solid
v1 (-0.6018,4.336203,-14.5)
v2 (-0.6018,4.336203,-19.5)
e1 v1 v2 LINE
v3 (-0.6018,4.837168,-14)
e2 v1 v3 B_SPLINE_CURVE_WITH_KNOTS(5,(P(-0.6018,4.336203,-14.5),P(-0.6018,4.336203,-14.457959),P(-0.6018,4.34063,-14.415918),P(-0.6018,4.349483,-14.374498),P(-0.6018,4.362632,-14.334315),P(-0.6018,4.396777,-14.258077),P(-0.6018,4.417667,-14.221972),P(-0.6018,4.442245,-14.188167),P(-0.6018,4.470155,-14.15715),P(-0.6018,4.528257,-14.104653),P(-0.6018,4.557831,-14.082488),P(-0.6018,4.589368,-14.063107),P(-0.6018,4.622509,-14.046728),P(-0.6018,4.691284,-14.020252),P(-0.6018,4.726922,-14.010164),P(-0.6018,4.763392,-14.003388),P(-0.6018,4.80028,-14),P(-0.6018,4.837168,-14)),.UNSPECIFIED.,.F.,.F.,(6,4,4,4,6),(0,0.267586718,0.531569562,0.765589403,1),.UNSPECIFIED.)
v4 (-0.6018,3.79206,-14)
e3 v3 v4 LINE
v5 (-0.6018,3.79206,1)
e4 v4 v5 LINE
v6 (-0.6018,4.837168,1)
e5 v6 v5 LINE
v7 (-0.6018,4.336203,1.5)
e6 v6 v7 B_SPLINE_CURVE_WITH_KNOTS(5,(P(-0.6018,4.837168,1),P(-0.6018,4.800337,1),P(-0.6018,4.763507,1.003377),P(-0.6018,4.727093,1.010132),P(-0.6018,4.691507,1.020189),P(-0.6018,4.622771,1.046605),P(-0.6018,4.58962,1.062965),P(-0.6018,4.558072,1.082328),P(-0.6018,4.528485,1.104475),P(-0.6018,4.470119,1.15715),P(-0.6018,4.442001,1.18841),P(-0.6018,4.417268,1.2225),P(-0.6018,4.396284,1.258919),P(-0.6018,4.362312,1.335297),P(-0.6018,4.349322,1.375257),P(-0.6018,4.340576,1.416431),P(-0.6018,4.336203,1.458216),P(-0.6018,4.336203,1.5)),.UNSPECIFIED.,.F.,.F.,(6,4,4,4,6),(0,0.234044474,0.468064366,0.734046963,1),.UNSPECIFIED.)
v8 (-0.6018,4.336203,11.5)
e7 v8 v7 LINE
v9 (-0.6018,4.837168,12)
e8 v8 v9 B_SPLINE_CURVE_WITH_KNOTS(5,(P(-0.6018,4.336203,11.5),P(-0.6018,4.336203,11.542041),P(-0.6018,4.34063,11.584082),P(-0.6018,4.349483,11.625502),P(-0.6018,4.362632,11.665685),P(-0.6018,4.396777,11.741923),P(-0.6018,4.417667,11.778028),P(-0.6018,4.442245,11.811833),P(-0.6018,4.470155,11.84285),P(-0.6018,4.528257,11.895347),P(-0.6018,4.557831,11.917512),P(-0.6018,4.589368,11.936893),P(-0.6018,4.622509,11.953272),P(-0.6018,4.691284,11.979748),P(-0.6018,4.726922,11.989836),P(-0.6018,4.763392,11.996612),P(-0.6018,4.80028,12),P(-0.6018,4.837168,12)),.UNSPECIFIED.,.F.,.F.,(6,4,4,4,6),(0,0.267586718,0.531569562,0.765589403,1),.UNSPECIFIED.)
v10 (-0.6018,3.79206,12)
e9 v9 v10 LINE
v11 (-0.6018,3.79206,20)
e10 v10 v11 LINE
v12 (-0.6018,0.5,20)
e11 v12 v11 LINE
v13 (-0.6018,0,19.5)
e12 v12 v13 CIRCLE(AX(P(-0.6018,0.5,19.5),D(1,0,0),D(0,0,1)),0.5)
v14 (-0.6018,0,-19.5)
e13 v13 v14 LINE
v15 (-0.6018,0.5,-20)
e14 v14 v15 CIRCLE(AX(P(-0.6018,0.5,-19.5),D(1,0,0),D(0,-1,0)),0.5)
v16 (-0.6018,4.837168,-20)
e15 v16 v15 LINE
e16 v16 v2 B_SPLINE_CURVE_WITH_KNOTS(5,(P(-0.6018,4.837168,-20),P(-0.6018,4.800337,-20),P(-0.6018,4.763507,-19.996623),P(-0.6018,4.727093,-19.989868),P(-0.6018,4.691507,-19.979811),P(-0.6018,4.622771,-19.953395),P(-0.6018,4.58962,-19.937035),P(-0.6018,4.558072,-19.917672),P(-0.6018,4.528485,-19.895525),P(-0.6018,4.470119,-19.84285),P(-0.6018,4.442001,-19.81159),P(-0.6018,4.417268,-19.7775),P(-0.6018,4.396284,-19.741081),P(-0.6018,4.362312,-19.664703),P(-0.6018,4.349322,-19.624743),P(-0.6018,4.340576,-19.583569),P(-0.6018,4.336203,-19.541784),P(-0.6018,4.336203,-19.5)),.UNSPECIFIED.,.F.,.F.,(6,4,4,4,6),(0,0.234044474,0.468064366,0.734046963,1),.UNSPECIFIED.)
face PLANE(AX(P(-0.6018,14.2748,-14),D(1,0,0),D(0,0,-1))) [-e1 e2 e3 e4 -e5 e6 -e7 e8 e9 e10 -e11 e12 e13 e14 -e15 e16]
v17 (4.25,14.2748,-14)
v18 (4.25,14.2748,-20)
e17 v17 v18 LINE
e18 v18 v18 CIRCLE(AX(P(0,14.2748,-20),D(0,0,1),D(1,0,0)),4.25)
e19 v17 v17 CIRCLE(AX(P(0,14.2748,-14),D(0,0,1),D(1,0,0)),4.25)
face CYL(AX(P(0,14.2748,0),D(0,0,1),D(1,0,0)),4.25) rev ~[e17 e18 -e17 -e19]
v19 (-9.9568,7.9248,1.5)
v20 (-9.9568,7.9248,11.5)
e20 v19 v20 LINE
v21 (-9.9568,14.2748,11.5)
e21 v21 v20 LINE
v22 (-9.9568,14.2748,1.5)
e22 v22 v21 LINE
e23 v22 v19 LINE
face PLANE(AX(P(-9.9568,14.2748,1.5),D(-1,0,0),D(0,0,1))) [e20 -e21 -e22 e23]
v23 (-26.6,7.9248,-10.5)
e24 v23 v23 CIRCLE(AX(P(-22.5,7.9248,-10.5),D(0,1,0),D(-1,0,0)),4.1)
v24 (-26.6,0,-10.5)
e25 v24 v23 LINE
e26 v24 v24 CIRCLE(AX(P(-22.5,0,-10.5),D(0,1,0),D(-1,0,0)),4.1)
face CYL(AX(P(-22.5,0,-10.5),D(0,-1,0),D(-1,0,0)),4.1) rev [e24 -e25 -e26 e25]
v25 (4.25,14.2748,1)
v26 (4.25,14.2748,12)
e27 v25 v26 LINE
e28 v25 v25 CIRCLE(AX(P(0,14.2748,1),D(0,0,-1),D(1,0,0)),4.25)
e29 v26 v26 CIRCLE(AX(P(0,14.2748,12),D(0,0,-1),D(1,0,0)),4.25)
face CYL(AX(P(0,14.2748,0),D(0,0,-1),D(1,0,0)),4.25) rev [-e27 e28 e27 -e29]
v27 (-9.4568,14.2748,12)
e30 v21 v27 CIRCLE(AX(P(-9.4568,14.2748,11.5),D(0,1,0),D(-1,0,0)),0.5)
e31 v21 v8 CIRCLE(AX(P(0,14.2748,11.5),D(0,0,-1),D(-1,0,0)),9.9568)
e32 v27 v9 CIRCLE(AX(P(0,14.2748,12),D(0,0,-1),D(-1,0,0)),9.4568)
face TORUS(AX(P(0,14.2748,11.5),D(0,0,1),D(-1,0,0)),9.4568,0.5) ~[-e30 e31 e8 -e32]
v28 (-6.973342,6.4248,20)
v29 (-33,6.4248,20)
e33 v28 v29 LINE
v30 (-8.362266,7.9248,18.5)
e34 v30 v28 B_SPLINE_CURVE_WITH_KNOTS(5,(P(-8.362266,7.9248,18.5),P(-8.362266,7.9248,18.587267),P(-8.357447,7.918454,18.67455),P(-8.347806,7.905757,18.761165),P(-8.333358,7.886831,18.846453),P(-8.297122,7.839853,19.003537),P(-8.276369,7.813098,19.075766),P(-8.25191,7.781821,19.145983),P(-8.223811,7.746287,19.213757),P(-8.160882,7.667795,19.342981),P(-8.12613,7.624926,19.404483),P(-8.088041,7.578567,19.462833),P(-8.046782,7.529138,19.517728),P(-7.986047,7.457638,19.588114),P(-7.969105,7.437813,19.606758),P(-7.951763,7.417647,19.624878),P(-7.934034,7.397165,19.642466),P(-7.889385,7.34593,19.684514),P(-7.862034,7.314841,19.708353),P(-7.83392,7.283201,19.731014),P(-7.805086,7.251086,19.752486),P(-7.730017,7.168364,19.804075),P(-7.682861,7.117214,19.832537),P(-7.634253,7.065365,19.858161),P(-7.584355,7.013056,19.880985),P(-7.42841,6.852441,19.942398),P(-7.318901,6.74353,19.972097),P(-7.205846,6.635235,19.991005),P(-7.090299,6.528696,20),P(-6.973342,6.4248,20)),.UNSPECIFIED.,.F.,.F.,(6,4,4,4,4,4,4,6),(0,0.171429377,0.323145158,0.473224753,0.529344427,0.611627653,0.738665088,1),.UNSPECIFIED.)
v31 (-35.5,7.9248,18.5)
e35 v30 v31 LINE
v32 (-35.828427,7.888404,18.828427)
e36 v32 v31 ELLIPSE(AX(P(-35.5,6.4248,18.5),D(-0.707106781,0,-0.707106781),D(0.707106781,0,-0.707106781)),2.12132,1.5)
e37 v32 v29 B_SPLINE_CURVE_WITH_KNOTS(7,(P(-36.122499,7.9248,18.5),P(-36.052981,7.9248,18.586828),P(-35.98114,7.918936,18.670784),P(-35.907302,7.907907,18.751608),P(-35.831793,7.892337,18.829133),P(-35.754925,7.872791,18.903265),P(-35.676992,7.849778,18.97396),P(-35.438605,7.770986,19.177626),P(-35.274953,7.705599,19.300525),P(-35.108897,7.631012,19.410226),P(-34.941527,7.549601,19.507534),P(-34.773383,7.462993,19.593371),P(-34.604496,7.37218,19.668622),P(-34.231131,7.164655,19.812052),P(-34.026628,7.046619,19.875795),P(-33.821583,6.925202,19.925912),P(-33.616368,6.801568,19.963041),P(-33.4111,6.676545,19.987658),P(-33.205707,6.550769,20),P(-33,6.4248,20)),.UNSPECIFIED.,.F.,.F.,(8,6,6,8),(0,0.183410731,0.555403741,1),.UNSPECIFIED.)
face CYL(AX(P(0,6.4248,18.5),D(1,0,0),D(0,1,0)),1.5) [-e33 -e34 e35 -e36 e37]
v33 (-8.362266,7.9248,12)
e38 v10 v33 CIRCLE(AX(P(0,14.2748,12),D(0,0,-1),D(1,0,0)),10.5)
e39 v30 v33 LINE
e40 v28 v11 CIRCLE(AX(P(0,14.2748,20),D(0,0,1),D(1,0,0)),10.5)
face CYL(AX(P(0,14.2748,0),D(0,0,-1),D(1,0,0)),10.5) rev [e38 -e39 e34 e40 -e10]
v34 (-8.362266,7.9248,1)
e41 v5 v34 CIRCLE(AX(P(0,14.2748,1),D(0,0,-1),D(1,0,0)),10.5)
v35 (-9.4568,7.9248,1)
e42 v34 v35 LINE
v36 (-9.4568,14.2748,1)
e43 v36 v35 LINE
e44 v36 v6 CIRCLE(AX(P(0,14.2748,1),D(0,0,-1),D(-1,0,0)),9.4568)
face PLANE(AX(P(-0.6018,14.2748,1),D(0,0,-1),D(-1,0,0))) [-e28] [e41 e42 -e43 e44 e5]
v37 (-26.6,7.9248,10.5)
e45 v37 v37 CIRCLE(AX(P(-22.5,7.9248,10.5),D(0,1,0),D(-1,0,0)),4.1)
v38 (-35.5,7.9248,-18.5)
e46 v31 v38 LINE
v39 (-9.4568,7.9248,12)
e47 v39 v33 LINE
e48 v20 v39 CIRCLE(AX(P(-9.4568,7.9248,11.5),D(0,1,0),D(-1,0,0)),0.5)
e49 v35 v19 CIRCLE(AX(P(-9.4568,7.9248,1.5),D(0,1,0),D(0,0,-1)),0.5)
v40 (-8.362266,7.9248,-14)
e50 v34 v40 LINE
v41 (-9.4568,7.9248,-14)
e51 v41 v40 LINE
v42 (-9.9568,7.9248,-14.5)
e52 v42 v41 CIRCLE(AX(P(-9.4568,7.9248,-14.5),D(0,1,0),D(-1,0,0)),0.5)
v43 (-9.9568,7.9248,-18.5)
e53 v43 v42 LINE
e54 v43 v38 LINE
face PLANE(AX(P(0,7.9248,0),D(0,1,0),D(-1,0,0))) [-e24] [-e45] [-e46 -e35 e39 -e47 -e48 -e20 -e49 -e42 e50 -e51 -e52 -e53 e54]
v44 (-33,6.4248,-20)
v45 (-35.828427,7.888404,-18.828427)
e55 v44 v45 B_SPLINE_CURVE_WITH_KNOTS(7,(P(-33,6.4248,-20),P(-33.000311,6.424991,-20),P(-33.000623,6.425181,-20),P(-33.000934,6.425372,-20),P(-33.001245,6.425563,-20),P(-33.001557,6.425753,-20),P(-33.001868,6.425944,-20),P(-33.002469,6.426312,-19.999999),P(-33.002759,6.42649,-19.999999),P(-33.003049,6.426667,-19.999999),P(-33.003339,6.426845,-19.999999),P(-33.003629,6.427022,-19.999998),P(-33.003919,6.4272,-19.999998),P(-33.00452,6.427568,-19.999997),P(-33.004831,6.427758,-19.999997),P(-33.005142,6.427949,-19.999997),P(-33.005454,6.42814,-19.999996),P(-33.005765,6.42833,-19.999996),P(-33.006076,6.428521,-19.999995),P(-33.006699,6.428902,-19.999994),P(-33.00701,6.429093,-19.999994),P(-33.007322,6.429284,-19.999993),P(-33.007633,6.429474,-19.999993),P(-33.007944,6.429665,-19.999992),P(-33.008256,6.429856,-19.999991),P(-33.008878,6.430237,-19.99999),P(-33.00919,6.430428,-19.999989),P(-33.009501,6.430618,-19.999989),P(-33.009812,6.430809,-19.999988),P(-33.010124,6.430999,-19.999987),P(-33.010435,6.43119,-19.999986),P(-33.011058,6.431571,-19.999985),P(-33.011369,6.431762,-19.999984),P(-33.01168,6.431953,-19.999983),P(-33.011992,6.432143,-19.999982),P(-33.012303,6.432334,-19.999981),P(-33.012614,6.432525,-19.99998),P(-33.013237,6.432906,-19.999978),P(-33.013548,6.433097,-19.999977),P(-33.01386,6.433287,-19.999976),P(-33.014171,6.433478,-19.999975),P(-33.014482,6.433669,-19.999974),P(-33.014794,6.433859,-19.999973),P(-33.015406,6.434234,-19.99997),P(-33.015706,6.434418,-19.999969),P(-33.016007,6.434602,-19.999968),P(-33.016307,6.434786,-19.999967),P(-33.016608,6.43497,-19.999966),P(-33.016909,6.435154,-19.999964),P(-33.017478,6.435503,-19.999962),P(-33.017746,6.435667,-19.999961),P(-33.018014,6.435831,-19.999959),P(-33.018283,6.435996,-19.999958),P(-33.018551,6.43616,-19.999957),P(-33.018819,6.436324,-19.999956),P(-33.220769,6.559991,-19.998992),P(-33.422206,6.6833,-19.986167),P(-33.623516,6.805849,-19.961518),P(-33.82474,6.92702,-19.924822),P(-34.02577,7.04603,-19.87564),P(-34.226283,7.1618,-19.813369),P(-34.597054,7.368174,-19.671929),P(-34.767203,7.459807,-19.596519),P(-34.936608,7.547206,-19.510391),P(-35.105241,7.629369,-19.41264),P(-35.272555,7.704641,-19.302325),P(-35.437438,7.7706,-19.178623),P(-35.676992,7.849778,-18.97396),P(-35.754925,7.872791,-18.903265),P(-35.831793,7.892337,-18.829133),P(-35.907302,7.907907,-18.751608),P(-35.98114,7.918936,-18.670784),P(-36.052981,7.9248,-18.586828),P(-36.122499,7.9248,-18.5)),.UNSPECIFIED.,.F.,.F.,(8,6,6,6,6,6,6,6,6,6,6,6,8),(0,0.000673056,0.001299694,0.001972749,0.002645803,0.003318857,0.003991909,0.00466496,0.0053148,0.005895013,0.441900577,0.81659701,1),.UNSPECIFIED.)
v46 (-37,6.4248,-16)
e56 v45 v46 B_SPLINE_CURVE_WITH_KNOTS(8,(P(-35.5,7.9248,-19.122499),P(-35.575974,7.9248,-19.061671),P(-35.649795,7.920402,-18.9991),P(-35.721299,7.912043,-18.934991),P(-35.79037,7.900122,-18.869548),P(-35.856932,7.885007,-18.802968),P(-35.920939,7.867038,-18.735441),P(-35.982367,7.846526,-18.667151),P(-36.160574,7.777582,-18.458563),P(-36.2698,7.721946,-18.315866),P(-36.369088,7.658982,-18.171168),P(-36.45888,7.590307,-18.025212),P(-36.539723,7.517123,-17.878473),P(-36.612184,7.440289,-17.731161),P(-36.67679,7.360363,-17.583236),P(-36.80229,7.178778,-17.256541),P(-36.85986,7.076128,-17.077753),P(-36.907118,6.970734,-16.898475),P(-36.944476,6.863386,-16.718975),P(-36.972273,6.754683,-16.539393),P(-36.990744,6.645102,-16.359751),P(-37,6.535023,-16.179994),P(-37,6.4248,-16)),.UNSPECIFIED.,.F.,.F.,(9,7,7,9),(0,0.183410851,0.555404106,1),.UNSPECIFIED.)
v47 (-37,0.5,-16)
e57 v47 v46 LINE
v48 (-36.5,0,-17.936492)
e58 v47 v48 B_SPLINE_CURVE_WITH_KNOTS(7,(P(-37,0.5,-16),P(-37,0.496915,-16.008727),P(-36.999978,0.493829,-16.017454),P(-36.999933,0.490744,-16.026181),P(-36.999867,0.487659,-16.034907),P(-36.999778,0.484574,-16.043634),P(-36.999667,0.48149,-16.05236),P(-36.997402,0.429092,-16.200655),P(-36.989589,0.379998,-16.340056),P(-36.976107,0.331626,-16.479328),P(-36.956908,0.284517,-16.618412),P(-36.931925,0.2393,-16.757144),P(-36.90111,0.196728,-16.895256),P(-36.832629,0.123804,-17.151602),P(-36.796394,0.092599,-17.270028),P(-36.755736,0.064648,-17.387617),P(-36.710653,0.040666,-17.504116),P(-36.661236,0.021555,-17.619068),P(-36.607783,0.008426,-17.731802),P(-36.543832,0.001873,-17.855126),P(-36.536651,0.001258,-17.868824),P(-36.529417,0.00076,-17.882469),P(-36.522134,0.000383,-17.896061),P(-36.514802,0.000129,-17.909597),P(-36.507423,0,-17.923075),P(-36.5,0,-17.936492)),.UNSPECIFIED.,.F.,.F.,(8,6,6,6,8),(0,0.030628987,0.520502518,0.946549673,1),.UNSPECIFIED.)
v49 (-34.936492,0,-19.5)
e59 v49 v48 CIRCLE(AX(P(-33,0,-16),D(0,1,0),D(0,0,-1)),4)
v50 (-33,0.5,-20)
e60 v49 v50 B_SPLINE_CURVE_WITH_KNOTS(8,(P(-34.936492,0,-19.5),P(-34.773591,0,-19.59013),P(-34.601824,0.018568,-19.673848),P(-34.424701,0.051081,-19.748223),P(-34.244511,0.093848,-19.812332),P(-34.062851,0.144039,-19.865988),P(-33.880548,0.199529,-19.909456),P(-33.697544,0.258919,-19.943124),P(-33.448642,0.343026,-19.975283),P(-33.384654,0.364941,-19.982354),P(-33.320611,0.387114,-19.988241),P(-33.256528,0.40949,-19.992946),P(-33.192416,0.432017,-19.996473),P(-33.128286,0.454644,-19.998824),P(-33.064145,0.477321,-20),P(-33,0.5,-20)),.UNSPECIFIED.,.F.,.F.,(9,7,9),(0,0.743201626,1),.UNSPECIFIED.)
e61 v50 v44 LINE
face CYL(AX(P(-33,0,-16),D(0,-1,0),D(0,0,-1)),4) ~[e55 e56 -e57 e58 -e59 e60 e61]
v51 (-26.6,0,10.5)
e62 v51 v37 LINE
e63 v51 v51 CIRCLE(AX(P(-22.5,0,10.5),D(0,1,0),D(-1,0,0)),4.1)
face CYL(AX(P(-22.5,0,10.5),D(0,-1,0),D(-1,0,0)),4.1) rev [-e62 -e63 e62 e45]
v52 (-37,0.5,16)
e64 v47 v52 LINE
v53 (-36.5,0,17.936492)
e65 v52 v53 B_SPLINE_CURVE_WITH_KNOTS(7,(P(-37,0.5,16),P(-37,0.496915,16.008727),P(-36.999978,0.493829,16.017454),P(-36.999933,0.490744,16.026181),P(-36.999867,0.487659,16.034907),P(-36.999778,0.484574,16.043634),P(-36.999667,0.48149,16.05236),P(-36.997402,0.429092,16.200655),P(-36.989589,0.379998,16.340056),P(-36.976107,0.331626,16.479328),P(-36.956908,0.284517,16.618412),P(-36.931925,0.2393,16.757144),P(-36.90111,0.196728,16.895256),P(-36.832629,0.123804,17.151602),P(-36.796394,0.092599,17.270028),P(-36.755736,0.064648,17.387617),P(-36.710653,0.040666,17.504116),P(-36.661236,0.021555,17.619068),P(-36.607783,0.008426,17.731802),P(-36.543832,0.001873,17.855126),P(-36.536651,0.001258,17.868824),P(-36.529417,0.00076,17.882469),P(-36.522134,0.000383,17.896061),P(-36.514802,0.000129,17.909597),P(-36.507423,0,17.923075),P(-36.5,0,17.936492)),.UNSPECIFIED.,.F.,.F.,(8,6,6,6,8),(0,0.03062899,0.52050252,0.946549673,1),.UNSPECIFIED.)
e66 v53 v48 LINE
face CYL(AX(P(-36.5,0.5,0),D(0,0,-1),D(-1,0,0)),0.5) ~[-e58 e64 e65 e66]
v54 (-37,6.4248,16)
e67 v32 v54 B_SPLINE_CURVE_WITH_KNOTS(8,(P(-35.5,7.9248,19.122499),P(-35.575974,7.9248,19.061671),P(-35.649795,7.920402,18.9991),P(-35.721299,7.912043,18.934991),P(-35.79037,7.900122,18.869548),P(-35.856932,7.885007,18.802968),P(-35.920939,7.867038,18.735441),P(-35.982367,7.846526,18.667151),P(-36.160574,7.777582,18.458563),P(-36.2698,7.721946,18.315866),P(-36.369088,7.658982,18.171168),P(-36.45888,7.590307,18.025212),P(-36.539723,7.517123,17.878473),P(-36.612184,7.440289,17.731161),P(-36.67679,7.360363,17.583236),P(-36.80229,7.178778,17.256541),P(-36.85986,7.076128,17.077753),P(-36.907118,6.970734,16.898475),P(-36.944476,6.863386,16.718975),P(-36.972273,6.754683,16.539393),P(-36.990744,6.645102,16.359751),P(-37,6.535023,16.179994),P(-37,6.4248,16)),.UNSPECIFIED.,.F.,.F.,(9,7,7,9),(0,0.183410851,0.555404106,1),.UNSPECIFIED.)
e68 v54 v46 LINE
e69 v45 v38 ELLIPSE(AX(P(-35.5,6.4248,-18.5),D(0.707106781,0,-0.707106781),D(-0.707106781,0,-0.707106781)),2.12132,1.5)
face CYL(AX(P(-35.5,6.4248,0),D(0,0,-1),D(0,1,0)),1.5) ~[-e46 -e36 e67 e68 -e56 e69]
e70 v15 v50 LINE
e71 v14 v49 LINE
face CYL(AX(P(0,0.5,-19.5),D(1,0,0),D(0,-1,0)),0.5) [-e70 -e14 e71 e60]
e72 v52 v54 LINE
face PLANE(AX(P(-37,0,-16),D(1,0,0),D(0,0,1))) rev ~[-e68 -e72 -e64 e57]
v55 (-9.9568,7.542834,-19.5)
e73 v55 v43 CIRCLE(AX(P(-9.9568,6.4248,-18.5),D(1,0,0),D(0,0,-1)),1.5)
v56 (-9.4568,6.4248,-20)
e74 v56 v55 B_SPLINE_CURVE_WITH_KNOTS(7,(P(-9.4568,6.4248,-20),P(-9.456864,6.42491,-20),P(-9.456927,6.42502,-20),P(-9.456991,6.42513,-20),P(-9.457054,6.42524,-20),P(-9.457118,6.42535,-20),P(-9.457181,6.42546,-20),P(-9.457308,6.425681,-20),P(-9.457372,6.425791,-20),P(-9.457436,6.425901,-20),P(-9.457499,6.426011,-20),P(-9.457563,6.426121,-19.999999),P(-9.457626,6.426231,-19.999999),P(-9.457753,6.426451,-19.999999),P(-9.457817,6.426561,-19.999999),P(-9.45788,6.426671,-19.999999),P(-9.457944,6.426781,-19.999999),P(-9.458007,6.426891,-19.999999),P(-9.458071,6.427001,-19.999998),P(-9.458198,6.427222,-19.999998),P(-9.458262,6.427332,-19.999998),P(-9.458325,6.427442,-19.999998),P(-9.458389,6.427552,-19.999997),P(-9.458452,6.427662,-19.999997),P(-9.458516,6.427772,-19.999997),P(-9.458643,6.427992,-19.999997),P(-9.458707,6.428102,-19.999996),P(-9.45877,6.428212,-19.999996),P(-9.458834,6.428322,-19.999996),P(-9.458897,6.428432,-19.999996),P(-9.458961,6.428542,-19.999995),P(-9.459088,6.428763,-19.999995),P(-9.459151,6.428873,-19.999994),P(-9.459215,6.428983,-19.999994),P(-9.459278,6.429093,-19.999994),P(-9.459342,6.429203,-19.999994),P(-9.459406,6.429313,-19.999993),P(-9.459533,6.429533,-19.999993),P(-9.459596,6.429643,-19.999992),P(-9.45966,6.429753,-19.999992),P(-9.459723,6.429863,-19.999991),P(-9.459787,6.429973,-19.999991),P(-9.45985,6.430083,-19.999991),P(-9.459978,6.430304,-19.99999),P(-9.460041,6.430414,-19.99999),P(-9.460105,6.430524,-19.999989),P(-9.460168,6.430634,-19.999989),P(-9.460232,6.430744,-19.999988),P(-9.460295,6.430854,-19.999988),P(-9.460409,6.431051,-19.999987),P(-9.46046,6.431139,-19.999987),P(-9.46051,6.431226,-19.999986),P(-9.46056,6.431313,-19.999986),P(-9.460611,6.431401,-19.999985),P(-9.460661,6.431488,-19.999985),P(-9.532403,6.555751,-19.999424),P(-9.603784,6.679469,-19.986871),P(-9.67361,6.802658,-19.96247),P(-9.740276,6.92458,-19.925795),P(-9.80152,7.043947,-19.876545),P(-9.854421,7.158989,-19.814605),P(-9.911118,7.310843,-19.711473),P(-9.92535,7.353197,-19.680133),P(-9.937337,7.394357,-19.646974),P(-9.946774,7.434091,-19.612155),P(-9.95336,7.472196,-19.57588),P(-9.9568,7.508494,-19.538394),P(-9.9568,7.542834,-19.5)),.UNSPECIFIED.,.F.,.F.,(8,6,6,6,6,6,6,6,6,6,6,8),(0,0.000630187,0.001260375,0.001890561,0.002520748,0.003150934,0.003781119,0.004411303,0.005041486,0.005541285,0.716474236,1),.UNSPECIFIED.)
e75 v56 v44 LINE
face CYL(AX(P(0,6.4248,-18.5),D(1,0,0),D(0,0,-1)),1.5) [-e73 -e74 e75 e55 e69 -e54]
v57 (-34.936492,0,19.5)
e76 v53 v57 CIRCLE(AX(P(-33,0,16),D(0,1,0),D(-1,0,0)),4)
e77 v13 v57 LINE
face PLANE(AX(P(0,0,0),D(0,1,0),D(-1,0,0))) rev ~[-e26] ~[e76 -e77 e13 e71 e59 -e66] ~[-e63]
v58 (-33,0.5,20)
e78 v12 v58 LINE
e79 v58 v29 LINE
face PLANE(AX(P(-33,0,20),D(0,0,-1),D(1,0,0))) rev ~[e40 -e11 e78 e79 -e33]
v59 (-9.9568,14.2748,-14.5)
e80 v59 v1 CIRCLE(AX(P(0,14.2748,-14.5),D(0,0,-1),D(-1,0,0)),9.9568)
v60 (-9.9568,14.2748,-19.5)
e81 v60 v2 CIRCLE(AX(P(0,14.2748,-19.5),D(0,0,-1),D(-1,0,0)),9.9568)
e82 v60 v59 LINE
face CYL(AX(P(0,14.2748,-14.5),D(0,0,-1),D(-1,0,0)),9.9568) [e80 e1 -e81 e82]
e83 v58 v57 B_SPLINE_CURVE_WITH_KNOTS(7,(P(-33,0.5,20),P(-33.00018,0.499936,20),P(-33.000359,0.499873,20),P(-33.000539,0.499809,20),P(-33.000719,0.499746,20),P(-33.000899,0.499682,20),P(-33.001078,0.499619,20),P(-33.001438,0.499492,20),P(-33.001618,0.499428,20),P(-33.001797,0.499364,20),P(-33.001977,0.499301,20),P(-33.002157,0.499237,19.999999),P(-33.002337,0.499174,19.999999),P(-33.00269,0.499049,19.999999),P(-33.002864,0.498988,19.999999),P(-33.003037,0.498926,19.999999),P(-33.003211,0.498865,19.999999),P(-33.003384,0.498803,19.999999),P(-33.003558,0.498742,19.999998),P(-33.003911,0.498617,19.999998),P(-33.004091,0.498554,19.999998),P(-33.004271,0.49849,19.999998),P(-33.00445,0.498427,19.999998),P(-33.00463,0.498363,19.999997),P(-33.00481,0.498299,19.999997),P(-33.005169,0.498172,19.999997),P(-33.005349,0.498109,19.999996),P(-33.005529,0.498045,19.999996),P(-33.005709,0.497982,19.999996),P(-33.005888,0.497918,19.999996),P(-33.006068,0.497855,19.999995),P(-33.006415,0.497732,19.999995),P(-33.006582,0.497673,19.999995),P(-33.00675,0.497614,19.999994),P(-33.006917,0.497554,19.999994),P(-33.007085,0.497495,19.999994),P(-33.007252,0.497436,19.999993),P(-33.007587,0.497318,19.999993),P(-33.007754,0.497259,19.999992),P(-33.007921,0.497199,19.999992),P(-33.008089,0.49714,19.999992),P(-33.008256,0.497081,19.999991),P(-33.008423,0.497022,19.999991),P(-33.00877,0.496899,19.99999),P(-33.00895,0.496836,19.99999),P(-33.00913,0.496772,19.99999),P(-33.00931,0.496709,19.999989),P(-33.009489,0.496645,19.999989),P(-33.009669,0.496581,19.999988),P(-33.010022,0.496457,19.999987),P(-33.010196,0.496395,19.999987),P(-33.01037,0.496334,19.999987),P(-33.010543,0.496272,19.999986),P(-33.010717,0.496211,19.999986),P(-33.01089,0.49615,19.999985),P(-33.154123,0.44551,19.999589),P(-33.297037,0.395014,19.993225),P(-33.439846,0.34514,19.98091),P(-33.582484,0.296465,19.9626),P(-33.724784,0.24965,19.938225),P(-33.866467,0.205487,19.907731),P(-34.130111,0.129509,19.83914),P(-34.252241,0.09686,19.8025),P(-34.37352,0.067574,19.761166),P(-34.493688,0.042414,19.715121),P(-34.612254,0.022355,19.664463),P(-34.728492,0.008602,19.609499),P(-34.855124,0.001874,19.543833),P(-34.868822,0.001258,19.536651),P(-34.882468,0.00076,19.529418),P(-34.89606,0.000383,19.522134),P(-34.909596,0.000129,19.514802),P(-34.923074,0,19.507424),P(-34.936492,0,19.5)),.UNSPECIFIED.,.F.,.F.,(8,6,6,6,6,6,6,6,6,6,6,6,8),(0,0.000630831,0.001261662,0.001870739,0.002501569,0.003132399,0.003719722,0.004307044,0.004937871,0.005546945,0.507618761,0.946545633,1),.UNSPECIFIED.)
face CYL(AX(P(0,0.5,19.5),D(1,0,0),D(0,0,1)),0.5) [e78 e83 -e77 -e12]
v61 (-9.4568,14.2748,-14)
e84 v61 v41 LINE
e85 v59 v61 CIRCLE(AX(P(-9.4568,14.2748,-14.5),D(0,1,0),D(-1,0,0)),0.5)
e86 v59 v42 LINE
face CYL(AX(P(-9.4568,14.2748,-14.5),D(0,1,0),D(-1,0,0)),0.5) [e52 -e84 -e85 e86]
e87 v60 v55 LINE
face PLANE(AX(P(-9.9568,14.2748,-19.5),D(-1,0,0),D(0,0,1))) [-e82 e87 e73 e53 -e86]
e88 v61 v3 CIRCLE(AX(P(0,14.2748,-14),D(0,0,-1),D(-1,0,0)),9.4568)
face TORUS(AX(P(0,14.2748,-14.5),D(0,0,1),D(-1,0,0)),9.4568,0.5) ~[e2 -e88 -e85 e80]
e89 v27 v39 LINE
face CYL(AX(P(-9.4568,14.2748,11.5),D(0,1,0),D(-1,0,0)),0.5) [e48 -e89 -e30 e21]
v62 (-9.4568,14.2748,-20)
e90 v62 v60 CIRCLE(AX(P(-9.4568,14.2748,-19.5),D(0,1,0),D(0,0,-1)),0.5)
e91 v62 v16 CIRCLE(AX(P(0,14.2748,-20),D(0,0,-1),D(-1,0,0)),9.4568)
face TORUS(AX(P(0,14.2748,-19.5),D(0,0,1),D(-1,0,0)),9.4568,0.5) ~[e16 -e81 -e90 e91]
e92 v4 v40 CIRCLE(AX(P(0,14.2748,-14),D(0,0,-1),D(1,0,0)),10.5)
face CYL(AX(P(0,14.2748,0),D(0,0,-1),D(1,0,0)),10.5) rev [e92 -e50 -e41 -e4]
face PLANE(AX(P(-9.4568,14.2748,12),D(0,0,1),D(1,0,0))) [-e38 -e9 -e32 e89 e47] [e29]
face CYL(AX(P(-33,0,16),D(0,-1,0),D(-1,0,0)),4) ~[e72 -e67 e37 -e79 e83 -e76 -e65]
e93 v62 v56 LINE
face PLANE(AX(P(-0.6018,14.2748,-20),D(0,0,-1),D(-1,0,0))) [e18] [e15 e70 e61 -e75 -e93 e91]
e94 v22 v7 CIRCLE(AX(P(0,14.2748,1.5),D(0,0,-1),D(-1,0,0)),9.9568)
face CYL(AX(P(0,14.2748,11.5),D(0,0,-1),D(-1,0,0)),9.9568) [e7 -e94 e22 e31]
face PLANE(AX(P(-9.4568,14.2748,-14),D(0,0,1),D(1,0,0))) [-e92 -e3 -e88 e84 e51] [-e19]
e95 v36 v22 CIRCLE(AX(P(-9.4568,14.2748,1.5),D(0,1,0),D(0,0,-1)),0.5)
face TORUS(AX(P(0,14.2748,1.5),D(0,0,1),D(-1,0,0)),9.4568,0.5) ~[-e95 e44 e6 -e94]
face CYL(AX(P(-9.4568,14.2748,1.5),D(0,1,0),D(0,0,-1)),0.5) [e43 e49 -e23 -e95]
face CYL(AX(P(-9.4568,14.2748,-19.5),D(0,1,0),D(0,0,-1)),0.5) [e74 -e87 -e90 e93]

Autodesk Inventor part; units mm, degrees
sketch "Sketch_1" plane through (0, 0, 0) normal (0, 1, 0) x (-1, 0, 0)
  arc A0 (37, 16) -> (33, 20) centre (33, 16) ccw
  line L0 (33, 20) -> (0.6018, 20)
  line L1 (0.6018, 20) -> (0.6018, -20)
  line L2 (0.6018, -20) -> (33, -20)
  arc A1 (33, -20) -> (37, -16) centre (33, -16) ccw
  line L3 (37, -16) -> (37, 16)
  circle A2 centre (22.5, 10.5) radius 4.1
  circle A3 centre (22.5, -10.5) radius 4.1
extrude "Extrusion1" add sketch "Sketch_1" along normal blind 7.9248
sketch "Sketch_2" plane through (0, 0, 0) normal (0, 0, 1) x (1, 0, 0)
  line L0 (-74, 15.8496) -> (-74, -7.9248)
  line L1 (-74, -7.9248) -> (37, -7.9248)
  line L2 (37, -7.9248) -> (37, 15.8496)
  line L3 (37, 15.8496) -> (-74, 15.8496)
  arc A0 (-37, 0.5) -> (-36.5, 0) centre (-36.5, 0.5) ccw
  line L4 (-36.5, 0) -> (-0.6, 0)
  line L5 (-0.6, 0) -> (-0.6, 7.9248)
  line L6 (-0.6, 7.9248) -> (-35.5, 7.9248)
  arc A1 (-35.5, 7.9248) -> (-37, 6.4248) centre (-35.5, 6.4248) ccw
  line L7 (-37, 6.4248) -> (-37, 0.5)
extrude "Extrusion2" cut sketch "Sketch_2" along normal mid plane 40
sketch "Sketch_3" plane through (0, 0, 0) normal (1, 0, 0) x (0, 1, 0)
  line L0 (15.8496, 40) -> (-7.9248, 40)
  line L1 (-7.9248, 40) -> (-7.9248, -40)
  line L2 (-7.9248, -40) -> (15.8496, -40)
  line L3 (15.8496, -40) -> (15.8496, 40)
  arc A0 (0.5, 20) -> (0, 19.5) centre (0.5, 19.5) ccw
  line L4 (0, 19.5) -> (0, -19.5)
  arc A1 (0, -19.5) -> (0.5, -20) centre (0.5, -19.5) ccw
  line L5 (0.5, -20) -> (6.4248, -20)
  arc A2 (6.4248, -20) -> (7.9248, -18.5) centre (6.4248, -18.5) ccw
  line L6 (7.9248, -18.5) -> (7.9248, 18.5)
  arc A3 (7.9248, 18.5) -> (6.4248, 20) centre (6.4248, 18.5) ccw
  line L7 (6.4248, 20) -> (0.5, 20)
extrude "Extrusion3" cut sketch "Sketch_3" against normal blind 74
sketch "Sketch_4" plane through (0, 0, 0) normal (0, 0, 1) x (1, 0, 0)
  circle A0 centre (0, 14.2748) radius 10.5
extrude "Extrusion4" cut sketch "Sketch_4" along normal mid plane 40
sketch "Sketch_5" plane through (0, 14.2748, 0) normal (0, 1, 0) x (1, 0, 0)
  arc A0 (-9.9568, -11.5) -> (-9.4568, -12) centre (-9.4568, -11.5) ccw
  line L0 (-9.4568, -12) -> (-0.6018, -12)
  line L1 (-0.6018, -12) -> (-0.6018, -1)
  line L2 (-0.6018, -1) -> (-9.4568, -1)
  arc A1 (-9.4568, -1) -> (-9.9568, -1.5) centre (-9.4568, -1.5) ccw
  line L3 (-9.9568, -1.5) -> (-9.9568, -11.5)
extrude "Extrusion5" add sketch "Sketch_5" against normal blind 11.7348
sketch "Sketch_6" plane through (0, 14.2748, 0) normal (0, 1, 0) x (1, 0, 0)
  line L0 (0, -1) -> (0, -12)
  line L1 (0, -12) -> (-9.4568, -12)
  arc A0 (-9.9568, -11.5) -> (-9.4568, -12) centre (-9.4568, -11.5) ccw
  line L2 (-9.9568, -11.5) -> (-9.9568, -1.5)
  arc A1 (-9.4568, -1) -> (-9.9568, -1.5) centre (-9.4568, -1.5) ccw
  line L3 (-9.4568, -1) -> (0, -1)
  line L4 (0, -1) -> (0, -12)
revolve "Revolution1" add sketch "Sketch_6" angle 360 about axis through (0, 14.2748, 1) along (0, 0, -1)
sketch "Sketch_7" plane through (0, 14.2748, 0) normal (0, 1, 0) x (1, 0, 0)
  arc A0 (-9.9568, 14.5) -> (-9.4568, 14) centre (-9.4568, 14.5) ccw
  line L0 (-9.4568, 14) -> (-0.6018, 14)
  line L1 (-0.6018, 14) -> (-0.6018, 20)
  line L2 (-0.6018, 20) -> (-9.4568, 20)
  arc A1 (-9.4568, 20) -> (-9.9568, 19.5) centre (-9.4568, 19.5) ccw
  line L3 (-9.9568, 19.5) -> (-9.9568, 14.5)
extrude "Extrusion6" add sketch "Sketch_7" against normal blind 11.7348
sketch "Sketch_8" plane through (0, 14.2748, 0) normal (0, 1, 0) x (1, 0, 0)
  line L0 (0, 20) -> (0, 14)
  line L1 (0, 14) -> (-9.4568, 14)
  arc A0 (-9.9568, 14.5) -> (-9.4568, 14) centre (-9.4568, 14.5) ccw
  line L2 (-9.9568, 14.5) -> (-9.9568, 19.5)
  arc A1 (-9.4568, 20) -> (-9.9568, 19.5) centre (-9.4568, 19.5) ccw
  line L3 (-9.4568, 20) -> (0, 20)
  line L4 (0, 20) -> (0, 14)
revolve "Revolution2" add sketch "Sketch_8" angle 360 about axis through (0, 14.2748, -20) along (0, 0, -1)
sketch "Sketch_9" plane through (0, 0, 0) normal (0, 0, 1) x (1, 0, 0)
  circle A0 centre (0, 14.2748) radius 4.25
extrude "Extrusion7" cut sketch "Sketch_9" along normal mid plane 40
ref_plane "to_b_XY" through (0, 14.2748, 0) normal (0, 0, -1) x (1, 0, 0)
ref_plane "to_b_YZ" through (0, 14.2748, 0) normal (1, 0, 0) x (0, -1, 0)
ref_plane "to_b_ZX" through (0, 14.2748, 0) normal (0, -1, 0) x (0, 0, -1)
ref_plane "to_pin_XY" through (0, 14.2748, 0) normal (0, 0, 1) x (1, 0, 0)
ref_plane "to_pin_YZ" through (0, 14.2748, 0) normal (1, 0, 0) x (0, 1, 0)
ref_plane "to_pin_ZX" through (0, 14.2748, 0) normal (0, 1, 0) x (0, 0, 1)
ref_plane "to_washer1_XY" through (0, 14.2748, 12.1745) normal (0, 0, -1) x (1, 0, 0)
ref_plane "to_washer1_YZ" through (0, 14.2748, 12.1745) normal (1, 0, 0) x (0, -1, 0)
ref_plane "to_washer1_ZX" through (0, 14.2748, 12.1745) normal (0, -1, 0) x (0, 0, -1)
ref_plane "to_washer2_XY" through (0, 14.2748, 0.8255) normal (0, 0, 1) x (1, 0, 0)
ref_plane "to_washer2_YZ" through (0, 14.2748, 0.8255) normal (1, 0, 0) x (0, 1, 0)
ref_plane "to_washer2_ZX" through (0, 14.2748, 0.8255) normal (0, 1, 0) x (0, 0, 1)
ref_plane "to_washer3_XY" through (0, 14.2748, -13.8255) normal (0, 0, -1) x (1, 0, 0)
ref_plane "to_washer3_YZ" through (0, 14.2748, -13.8255) normal (1, 0, 0) x (0, -1, 0)
ref_plane "to_washer3_ZX" through (0, 14.2748, -13.8255) normal (0, -1, 0) x (0, 0, -1)
properties part number "4489_a"
